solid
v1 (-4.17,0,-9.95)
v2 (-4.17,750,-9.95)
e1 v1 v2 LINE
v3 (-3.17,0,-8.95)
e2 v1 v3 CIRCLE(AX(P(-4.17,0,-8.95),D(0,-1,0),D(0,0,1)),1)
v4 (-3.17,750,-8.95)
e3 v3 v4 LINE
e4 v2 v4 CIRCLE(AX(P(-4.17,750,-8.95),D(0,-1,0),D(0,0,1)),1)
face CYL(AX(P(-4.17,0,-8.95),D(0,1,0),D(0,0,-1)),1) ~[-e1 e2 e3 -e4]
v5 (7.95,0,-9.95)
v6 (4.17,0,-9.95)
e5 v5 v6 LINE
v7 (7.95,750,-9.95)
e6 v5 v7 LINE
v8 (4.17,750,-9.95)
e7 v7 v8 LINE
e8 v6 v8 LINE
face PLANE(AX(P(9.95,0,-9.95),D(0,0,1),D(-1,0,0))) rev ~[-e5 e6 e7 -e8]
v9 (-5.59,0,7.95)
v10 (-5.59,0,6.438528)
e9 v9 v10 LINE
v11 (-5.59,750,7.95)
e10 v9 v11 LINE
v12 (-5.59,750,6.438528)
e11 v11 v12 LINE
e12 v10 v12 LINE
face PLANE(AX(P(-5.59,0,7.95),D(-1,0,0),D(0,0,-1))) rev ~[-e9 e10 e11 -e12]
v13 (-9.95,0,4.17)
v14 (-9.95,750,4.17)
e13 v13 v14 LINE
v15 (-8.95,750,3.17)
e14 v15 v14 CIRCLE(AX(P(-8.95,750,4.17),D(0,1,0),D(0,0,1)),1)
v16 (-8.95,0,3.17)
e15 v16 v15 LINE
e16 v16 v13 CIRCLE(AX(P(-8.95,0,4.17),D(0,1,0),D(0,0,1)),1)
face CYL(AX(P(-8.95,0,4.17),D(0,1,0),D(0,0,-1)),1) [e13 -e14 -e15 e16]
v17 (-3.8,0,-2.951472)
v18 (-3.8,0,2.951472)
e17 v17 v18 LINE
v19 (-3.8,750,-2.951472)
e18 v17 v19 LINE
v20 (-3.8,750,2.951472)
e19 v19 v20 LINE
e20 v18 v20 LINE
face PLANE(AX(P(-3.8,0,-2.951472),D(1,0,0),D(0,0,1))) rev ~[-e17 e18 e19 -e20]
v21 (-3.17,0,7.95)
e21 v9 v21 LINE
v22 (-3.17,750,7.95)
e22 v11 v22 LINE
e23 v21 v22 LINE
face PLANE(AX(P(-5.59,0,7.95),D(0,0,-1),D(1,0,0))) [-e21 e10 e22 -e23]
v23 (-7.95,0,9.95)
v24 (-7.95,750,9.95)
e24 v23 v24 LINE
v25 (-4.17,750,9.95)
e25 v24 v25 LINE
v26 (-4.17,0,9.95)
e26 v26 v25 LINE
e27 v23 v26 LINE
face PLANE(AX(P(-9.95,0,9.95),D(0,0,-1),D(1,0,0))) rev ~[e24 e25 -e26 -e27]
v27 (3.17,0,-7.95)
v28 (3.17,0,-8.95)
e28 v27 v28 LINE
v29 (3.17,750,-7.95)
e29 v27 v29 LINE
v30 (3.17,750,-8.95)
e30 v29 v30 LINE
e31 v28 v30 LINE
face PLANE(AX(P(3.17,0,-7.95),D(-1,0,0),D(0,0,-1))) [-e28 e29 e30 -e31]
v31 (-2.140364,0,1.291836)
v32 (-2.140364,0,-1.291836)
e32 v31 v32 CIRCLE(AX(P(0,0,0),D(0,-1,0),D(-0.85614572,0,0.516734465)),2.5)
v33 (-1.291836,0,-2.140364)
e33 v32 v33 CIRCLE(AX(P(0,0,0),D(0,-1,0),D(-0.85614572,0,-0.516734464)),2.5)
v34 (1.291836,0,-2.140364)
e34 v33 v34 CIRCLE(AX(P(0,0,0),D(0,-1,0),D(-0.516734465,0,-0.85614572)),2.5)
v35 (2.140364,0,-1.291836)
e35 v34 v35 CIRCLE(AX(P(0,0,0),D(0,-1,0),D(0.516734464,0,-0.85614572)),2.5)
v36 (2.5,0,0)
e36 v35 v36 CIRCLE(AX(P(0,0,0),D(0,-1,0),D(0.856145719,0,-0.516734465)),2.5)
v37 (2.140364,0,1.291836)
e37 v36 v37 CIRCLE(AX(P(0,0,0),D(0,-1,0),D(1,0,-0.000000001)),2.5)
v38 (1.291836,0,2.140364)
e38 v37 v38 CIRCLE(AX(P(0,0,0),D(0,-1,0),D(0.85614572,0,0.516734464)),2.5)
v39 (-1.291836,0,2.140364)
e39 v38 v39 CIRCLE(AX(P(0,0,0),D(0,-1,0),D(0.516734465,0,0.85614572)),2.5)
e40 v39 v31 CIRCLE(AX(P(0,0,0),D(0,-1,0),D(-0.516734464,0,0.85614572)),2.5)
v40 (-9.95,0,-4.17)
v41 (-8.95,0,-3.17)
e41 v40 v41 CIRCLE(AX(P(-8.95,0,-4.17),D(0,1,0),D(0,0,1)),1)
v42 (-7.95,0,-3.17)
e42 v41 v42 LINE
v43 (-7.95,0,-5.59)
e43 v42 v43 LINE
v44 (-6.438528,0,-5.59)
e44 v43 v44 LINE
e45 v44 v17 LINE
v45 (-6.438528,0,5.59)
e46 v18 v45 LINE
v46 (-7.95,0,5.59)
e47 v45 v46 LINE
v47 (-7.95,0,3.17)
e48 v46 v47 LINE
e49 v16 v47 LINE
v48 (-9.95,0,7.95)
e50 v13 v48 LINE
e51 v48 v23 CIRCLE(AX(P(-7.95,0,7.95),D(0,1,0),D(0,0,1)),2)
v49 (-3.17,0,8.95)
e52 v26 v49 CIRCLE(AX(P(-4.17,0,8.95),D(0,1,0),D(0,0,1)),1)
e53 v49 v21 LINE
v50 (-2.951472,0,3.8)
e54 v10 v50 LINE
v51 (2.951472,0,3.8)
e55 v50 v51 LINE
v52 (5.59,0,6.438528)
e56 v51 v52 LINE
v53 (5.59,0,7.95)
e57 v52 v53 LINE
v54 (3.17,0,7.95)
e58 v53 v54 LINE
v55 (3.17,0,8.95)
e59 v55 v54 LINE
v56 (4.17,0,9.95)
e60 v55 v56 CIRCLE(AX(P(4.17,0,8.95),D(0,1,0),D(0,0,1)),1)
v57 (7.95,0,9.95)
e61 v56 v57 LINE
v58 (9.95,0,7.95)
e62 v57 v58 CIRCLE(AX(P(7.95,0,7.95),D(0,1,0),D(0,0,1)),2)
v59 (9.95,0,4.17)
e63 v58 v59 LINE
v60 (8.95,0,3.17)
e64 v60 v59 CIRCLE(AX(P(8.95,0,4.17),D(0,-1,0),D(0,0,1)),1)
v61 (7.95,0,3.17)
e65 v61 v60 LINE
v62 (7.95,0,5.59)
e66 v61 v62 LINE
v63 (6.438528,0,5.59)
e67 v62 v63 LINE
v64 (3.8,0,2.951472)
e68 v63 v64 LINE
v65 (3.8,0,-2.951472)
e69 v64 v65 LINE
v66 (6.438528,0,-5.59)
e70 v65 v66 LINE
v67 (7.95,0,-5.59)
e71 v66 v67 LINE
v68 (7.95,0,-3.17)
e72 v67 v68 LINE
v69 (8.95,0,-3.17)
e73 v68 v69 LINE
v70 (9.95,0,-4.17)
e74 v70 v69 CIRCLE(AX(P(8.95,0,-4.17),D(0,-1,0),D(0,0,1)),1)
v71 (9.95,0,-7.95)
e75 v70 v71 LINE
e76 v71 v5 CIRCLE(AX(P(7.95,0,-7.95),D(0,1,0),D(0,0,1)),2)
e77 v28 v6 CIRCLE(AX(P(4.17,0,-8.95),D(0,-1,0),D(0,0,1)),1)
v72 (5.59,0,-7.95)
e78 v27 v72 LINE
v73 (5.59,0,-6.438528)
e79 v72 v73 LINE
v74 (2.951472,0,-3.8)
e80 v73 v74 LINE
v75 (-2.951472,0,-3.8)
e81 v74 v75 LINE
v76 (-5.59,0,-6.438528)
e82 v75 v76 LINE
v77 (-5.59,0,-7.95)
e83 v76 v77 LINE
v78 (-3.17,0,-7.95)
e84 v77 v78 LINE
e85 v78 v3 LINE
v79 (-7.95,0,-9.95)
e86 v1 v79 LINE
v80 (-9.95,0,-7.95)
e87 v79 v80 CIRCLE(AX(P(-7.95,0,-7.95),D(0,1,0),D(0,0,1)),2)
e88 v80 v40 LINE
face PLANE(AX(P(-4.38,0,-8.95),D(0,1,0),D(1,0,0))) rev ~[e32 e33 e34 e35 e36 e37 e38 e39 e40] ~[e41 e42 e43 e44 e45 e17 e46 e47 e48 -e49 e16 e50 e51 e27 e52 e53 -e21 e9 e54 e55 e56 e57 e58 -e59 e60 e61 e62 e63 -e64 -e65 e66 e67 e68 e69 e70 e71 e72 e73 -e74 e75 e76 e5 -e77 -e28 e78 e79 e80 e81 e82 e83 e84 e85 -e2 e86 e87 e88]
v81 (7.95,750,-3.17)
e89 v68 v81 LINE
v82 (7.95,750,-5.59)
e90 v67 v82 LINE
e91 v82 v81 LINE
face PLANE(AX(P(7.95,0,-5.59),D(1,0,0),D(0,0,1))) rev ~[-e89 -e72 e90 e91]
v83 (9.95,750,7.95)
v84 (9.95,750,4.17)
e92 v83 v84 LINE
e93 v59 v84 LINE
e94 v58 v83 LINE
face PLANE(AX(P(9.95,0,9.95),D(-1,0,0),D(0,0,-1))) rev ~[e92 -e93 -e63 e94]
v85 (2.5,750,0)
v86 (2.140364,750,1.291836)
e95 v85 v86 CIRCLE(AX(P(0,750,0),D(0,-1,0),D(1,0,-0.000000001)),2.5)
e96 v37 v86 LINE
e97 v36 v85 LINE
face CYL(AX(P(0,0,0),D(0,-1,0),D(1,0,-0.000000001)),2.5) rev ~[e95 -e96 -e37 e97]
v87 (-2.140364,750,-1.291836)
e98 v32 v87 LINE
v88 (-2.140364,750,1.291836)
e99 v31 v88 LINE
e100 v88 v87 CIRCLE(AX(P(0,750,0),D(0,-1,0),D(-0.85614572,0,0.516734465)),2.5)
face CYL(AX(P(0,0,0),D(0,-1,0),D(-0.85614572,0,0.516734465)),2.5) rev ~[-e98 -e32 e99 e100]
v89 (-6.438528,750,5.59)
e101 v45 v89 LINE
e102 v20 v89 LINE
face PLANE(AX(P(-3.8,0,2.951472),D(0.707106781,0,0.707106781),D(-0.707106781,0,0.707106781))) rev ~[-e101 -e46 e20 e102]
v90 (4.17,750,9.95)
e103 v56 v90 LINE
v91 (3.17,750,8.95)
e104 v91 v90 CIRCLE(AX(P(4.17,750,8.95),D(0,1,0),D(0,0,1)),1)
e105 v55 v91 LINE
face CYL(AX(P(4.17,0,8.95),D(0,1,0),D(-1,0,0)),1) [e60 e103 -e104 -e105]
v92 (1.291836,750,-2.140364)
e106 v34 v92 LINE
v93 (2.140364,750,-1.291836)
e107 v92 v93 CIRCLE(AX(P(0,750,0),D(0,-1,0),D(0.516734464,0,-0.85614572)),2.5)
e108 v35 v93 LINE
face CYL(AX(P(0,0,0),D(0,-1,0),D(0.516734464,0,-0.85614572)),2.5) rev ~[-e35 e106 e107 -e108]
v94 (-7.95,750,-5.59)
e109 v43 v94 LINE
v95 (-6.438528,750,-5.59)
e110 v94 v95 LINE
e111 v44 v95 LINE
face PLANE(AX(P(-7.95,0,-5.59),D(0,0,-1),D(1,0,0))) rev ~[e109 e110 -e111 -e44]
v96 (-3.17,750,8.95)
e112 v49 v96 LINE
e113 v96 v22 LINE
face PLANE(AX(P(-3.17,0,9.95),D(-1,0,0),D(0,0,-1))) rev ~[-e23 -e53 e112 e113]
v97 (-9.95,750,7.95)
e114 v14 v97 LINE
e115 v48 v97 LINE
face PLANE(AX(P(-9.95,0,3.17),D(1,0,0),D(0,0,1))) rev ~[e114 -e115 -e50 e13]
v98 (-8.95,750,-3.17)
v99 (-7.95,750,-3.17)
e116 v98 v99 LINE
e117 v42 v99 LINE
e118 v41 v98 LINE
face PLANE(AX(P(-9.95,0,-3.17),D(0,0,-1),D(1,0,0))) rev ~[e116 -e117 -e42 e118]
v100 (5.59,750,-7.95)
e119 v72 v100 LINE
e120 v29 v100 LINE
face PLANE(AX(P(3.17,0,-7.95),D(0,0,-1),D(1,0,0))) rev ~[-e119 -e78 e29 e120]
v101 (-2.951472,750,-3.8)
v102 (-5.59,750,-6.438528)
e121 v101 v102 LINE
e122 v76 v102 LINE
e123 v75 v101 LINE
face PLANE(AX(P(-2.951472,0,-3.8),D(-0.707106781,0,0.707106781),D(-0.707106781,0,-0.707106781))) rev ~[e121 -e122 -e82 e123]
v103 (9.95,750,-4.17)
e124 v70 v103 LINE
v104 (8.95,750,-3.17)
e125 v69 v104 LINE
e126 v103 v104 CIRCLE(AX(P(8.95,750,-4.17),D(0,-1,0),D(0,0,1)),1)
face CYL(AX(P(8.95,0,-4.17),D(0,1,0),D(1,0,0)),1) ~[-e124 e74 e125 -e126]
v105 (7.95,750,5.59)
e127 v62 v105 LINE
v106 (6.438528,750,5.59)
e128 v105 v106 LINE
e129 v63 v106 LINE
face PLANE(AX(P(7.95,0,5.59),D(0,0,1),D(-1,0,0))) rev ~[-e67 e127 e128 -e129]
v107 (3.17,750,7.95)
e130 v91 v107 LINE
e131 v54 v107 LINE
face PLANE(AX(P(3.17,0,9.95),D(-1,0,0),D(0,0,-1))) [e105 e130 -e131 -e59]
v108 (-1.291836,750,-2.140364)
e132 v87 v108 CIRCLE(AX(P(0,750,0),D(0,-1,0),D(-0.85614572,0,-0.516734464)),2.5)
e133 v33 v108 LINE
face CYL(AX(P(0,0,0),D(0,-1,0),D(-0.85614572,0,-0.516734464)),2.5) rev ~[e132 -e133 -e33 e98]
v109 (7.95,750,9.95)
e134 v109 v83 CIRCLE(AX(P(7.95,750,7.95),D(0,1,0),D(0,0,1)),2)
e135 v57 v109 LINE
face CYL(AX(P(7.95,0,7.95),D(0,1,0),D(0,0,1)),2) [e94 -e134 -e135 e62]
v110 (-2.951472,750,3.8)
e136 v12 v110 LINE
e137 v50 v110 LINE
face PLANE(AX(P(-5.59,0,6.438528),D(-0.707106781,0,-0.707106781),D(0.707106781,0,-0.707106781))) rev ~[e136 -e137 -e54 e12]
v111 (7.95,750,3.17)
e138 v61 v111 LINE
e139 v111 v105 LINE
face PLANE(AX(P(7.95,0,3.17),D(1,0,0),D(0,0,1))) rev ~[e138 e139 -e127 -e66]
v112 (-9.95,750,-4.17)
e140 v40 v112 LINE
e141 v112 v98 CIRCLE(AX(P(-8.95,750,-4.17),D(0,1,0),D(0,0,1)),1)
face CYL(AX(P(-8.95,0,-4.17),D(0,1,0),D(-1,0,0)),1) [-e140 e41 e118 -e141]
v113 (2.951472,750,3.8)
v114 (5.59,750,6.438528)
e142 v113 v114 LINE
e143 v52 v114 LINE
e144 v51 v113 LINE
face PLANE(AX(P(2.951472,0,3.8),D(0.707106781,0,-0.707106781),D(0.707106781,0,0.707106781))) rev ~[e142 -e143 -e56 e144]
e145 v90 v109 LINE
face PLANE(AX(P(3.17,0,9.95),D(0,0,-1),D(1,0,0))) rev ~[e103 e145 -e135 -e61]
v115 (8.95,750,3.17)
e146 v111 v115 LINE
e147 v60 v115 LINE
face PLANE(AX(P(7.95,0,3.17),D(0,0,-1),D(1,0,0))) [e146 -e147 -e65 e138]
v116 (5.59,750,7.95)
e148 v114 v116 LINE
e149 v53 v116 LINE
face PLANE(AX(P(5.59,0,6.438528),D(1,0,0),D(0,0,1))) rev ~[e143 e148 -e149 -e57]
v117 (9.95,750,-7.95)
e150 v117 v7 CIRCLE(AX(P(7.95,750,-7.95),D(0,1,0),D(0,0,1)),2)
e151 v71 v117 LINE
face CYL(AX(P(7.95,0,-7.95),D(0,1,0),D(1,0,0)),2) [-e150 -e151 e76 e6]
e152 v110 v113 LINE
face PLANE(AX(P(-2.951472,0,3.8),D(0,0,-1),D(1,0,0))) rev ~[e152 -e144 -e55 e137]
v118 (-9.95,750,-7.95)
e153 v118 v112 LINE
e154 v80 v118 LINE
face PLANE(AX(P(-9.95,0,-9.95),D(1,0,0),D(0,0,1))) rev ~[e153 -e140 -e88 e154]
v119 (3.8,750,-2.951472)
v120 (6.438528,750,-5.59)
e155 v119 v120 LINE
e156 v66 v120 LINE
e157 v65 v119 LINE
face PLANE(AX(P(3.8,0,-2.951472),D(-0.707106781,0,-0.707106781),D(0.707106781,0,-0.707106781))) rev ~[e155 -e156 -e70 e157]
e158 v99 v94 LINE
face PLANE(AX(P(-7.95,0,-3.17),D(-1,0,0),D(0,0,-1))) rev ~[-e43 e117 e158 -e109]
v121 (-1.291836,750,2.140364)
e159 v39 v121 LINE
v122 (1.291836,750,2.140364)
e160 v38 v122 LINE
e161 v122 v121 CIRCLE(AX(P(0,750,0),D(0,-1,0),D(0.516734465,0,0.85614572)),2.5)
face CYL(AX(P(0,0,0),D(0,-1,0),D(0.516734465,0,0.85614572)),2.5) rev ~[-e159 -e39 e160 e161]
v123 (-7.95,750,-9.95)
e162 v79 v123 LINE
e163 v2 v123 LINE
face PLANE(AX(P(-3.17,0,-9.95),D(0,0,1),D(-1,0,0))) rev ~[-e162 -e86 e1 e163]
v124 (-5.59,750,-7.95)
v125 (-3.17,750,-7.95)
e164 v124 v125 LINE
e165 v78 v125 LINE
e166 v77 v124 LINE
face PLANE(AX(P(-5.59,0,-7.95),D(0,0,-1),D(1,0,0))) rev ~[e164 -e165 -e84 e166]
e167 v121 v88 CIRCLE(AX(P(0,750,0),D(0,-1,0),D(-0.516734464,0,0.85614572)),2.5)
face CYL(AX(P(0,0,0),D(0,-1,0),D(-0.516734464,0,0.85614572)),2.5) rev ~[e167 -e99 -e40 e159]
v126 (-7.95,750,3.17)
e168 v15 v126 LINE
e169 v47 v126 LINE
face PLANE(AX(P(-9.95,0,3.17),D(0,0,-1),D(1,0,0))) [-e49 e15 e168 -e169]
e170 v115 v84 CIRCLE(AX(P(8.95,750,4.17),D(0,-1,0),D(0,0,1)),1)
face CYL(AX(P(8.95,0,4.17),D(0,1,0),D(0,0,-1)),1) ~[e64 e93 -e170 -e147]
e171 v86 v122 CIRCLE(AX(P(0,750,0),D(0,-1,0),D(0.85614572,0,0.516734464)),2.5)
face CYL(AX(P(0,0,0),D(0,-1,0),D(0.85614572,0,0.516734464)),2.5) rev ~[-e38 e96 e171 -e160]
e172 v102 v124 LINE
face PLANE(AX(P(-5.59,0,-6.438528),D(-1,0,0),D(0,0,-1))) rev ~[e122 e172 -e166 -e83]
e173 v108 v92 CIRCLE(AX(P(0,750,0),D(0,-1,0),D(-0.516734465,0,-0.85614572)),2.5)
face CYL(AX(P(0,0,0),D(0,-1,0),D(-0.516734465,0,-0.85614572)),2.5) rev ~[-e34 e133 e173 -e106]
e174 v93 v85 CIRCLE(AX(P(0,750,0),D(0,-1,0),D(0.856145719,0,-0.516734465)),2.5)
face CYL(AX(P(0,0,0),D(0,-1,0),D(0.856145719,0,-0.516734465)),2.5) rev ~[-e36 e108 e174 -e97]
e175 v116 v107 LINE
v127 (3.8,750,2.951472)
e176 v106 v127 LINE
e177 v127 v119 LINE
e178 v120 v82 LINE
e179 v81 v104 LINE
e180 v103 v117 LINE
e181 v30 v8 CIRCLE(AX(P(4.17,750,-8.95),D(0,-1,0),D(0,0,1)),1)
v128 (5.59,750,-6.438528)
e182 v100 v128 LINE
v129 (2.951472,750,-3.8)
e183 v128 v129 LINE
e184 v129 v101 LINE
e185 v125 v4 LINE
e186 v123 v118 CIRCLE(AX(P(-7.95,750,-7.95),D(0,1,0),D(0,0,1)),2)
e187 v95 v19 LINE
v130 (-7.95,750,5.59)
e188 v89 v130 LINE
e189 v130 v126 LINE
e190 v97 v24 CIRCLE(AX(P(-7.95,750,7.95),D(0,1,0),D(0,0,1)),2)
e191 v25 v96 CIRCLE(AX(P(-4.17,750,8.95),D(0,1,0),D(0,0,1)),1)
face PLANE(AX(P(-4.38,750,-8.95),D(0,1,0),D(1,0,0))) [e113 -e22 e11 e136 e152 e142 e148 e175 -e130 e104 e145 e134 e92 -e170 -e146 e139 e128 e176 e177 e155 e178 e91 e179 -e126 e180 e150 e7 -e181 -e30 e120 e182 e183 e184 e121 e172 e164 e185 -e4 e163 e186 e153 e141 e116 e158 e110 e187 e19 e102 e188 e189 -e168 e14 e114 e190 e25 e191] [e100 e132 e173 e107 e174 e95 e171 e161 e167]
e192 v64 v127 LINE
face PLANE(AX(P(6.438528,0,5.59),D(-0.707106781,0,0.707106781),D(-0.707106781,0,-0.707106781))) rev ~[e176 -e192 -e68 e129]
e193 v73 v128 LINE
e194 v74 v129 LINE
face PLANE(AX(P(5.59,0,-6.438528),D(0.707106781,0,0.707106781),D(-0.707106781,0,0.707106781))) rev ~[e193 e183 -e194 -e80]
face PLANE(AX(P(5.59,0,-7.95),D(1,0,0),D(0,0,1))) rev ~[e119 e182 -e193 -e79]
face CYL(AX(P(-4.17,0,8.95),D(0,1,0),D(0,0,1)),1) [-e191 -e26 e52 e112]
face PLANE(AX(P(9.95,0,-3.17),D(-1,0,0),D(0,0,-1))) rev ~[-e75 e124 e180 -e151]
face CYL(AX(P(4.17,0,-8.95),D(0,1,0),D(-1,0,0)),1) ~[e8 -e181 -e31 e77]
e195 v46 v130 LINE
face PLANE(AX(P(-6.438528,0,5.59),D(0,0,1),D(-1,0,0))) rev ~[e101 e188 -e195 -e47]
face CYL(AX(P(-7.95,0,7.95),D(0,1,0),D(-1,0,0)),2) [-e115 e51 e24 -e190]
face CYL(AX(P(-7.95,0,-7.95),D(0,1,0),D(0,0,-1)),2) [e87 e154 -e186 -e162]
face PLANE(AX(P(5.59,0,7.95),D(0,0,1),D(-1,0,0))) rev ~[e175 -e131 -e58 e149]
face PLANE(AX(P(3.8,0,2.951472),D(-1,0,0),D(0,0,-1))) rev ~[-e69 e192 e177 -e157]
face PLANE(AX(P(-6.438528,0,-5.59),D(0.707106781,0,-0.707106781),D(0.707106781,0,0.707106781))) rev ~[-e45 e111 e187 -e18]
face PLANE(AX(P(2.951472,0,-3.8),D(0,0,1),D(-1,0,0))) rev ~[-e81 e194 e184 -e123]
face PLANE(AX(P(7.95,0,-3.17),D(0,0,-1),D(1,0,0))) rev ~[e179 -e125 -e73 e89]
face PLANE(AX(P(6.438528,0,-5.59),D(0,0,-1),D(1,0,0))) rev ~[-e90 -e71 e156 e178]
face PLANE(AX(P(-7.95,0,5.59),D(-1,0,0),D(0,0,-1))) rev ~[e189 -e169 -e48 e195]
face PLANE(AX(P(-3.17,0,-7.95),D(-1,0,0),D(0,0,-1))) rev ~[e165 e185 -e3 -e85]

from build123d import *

# Parameters (mm, degrees)
SKETCH_1_W      = 2.42
SKETCH_1_H      = 2
SKETCH_1_W_2    = 2
SKETCH_1_H_2    = 2.42
EXTRUDE_1_DEPTH = 750
FILLET_1_R      = 2
FILLET_2_R      = 1


with BuildPart() as part:
    # 草图1 → 凸台-拉伸1 (new body)
    with BuildSketch(Plane(origin=(0, 0, 0), x_dir=(1, 0, 0), z_dir=(0, 1, 0))):
        with Locations((-4.38, 8.95)):
            Rectangle(SKETCH_1_W, SKETCH_1_H)
        Polygon((-7.101471863, 7.95), (-5.59, 7.95), (-5.59, 9.95), (-7.95, 9.95), (-7.95, 8.798528137), align=None)
        Polygon((-9.101471863, 9.95), (-7.95, 8.798528137), (-7.95, 9.95), align=None)
        Polygon((-9.95, 9.101471863), (-8.798528137, 7.95), (-7.95, 7.95), (-7.95, 8.798528137), (-9.101471863, 9.95), (-9.95, 9.95), align=None)
        Polygon((-9.95, 7.95), (-8.798528137, 7.95), (-9.95, 9.101471863), align=None)
        Polygon((-9.95, 5.59), (-7.95, 5.59), (-7.95, 7.101471863), (-8.798528137, 7.95), (-9.95, 7.95), align=None)
        Polygon((-7.95, 7.95), (-7.101471863, 7.95), (-7.95, 8.798528137), align=None)
        Polygon((-8.798528137, 7.95), (-7.95, 7.101471863), (-7.95, 7.95), align=None)
        with Locations((-8.95, 4.38)):
            Rectangle(SKETCH_1_W_2, SKETCH_1_H_2)
        Polygon((-7.101471863, 7.95), (-5.59, 6.438528137), (-5.59, 7.95), align=None)
        Polygon((-7.95, 7.101471863), (-6.438528137, 5.59), (-5.59, 5.59), (-5.59, 6.438528137), (-7.101471863, 7.95), (-7.95, 7.95), align=None)
        Polygon((-7.95, 5.59), (-6.438528137, 5.59), (-7.95, 7.101471863), align=None)
        Polygon((-6.438528137, 5.59), (-3.8, 2.951471863), (-3.8, 3.8), (-2.951471863, 3.8), (-5.59, 6.438528137), (-5.59, 5.59), align=None)
        with Locations((4.38, 8.95)):
            Rectangle(SKETCH_1_W, SKETCH_1_H)
        Polygon((7.101471863, 7.95), (7.95, 8.798528137), (7.95, 9.95), (5.59, 9.95), (5.59, 7.95), align=None)
        Polygon((7.95, 8.798528137), (9.101471863, 9.95), (7.95, 9.95), align=None)
        Polygon((8.798528137, 7.95), (9.95, 9.101471863), (9.95, 9.95), (9.101471863, 9.95), (7.95, 8.798528137), (7.95, 7.95), align=None)
        Polygon((8.798528137, 7.95), (9.95, 7.95), (9.95, 9.101471863), align=None)
        Polygon((7.95, 5.59), (9.95, 5.59), (9.95, 7.95), (8.798528137, 7.95), (7.95, 7.101471863), align=None)
        Polygon((7.101471863, 7.95), (7.95, 7.95), (7.95, 8.798528137), align=None)
        Polygon((7.95, 7.101471863), (8.798528137, 7.95), (7.95, 7.95), align=None)
        with Locations((8.95, 4.38)):
            Rectangle(SKETCH_1_W_2, SKETCH_1_H_2)
        Polygon((5.59, 5.59), (6.438528137, 5.59), (7.95, 7.101471863), (7.95, 7.95), (7.101471863, 7.95), (5.59, 6.438528137), align=None)
        Polygon((6.438528137, 5.59), (7.95, 5.59), (7.95, 7.101471863), align=None)
        Polygon((5.59, 7.95), (5.59, 6.438528137), (7.101471863, 7.95), align=None)
        Polygon((3.8, 3.8), (3.8, 2.951471863), (6.438528137, 5.59), (5.59, 5.59), (5.59, 6.438528137), (2.951471863, 3.8), align=None)
        with Locations((8.95, -4.38)):
            Rectangle(SKETCH_1_W_2, SKETCH_1_H_2)
        Polygon((8.798528137, -7.95), (9.95, -7.95), (9.95, -5.59), (7.95, -5.59), (7.95, -7.101471863), align=None)
        Polygon((8.798528137, -7.95), (9.95, -9.101471863), (9.95, -7.95), align=None)
        Polygon((9.101471863, -9.95), (9.95, -9.95), (9.95, -9.101471863), (8.798528137, -7.95), (7.95, -7.95), (7.95, -8.798528137), align=None)
        Polygon((7.95, -9.95), (9.101471863, -9.95), (7.95, -8.798528137), align=None)
        Polygon((7.95, -7.95), (8.798528137, -7.95), (7.95, -7.101471863), align=None)
        Polygon((7.101471863, -7.95), (7.95, -8.798528137), (7.95, -7.95), align=None)
        Polygon((5.59, -9.95), (7.95, -9.95), (7.95, -8.798528137), (7.101471863, -7.95), (5.59, -7.95), align=None)
        with Locations((4.38, -8.95)):
            Rectangle(SKETCH_1_W, SKETCH_1_H)
        Polygon((5.59, -7.95), (7.101471863, -7.95), (5.59, -6.438528137), align=None)
        Polygon((5.59, -6.438528137), (7.101471863, -7.95), (7.95, -7.95), (7.95, -7.101471863), (6.438528137, -5.59), (5.59, -5.59), align=None)
        Polygon((6.438528137, -5.59), (7.95, -7.101471863), (7.95, -5.59), align=None)
        with Locations((-8.95, -4.38)):
            Rectangle(SKETCH_1_W_2, SKETCH_1_H_2)
        Polygon((-8.798528137, -7.95), (-7.95, -7.101471863), (-7.95, -5.59), (-9.95, -5.59), (-9.95, -7.95), align=None)
        Polygon((-7.95, -7.101471863), (-6.438528137, -5.59), (-7.95, -5.59), align=None)
        Polygon((-7.101471863, -7.95), (-5.59, -6.438528137), (-5.59, -5.59), (-6.438528137, -5.59), (-7.95, -7.101471863), (-7.95, -7.95), align=None)
        Polygon((-7.101471863, -7.95), (-5.59, -7.95), (-5.59, -6.438528137), align=None)
        Polygon((-7.95, -9.95), (-5.59, -9.95), (-5.59, -7.95), (-7.101471863, -7.95), (-7.95, -8.798528137), align=None)
        with Locations((-4.38, -8.95)):
            Rectangle(SKETCH_1_W, SKETCH_1_H)
        Polygon((-7.95, -7.95), (-7.95, -8.798528137), (-7.101471863, -7.95), align=None)
        Polygon((-8.798528137, -7.95), (-7.95, -7.95), (-7.95, -7.101471863), align=None)
        Polygon((-9.95, -9.95), (-9.101471863, -9.95), (-7.95, -8.798528137), (-7.95, -7.95), (-8.798528137, -7.95), (-9.95, -9.101471863), align=None)
        Polygon((-9.95, -7.95), (-9.95, -9.101471863), (-8.798528137, -7.95), align=None)
        Polygon((-9.101471863, -9.95), (-7.95, -9.95), (-7.95, -8.798528137), align=None)
        Polygon((-5.59, -6.438528137), (-2.951471863, -3.8), (-3.8, -3.8), (-3.8, -2.951471863), (-6.438528137, -5.59), (-5.59, -5.59), align=None)
        Polygon((2.951471863, -3.8), (5.59, -6.438528137), (5.59, -5.59), (6.438528137, -5.59), (3.8, -2.951471863), (3.8, -3.8), align=None)
        with BuildLine():
            Line((2.140364299, -1.291836161), (3.8, -2.951471863))
            Line((3.8, -2.951471863), (3.8, 2.951471863))
            Line((3.8, 2.951471863), (2.140364299, 1.291836161))
            ThreePointArc((2.140364299, 1.291836161), (2.408413456, 0.670480892), (2.5, 0))
            ThreePointArc((2.5, 0), (2.408413456, -0.670480892), (2.140364299, -1.291836161))
        make_face()
        with BuildLine():
            Line((1.291836161, 2.140364299), (2.951471863, 3.8))
            Line((2.951471863, 3.8), (-2.951471863, 3.8))
            Line((-2.951471863, 3.8), (-1.291836161, 2.140364299))
            ThreePointArc((-1.291836161, 2.140364299), (0, 2.5), (1.291836161, 2.140364299))
        make_face()
        with BuildLine():
            Line((-3.8, 2.951471863), (-3.8, -2.951471863))
            Line((-3.8, -2.951471863), (-2.140364299, -1.291836161))
            ThreePointArc((-2.140364299, -1.291836161), (-2.5, 0), (-2.140364299, 1.291836161))
            Line((-2.140364299, 1.291836161), (-3.8, 2.951471863))
        make_face()
        with BuildLine():
            Line((-2.951471863, -3.8), (2.951471863, -3.8))
            Line((2.951471863, -3.8), (1.291836161, -2.140364299))
            ThreePointArc((1.291836161, -2.140364299), (0, -2.5), (-1.291836161, -2.140364299))
            Line((-1.291836161, -2.140364299), (-2.951471863, -3.8))
        make_face()
        with BuildLine():
            Line((-3.8, -3.8), (-2.951471863, -3.8))
            Line((-2.951471863, -3.8), (-1.291836161, -2.140364299))
            ThreePointArc((-1.291836161, -2.140364299), (-1.767766953, -1.767766953), (-2.140364299, -1.291836161))
            Line((-2.140364299, -1.291836161), (-3.8, -2.951471863))
            Line((-3.8, -2.951471863), (-3.8, -3.8))
        make_face()
        with BuildLine():
            Line((1.291836161, -2.140364299), (2.951471863, -3.8))
            Line((2.951471863, -3.8), (3.8, -3.8))
            Line((3.8, -3.8), (3.8, -2.951471863))
            Line((3.8, -2.951471863), (2.140364299, -1.291836161))
            ThreePointArc((2.140364299, -1.291836161), (1.767766953, -1.767766953), (1.291836161, -2.140364299))
        make_face()
        with BuildLine():
            Line((2.140364299, 1.291836161), (3.8, 2.951471863))
            Line((3.8, 2.951471863), (3.8, 3.8))
            Line((3.8, 3.8), (2.951471863, 3.8))
            Line((2.951471863, 3.8), (1.291836161, 2.140364299))
            ThreePointArc((1.291836161, 2.140364299), (1.767766953, 1.767766953), (2.140364299, 1.291836161))
        make_face()
        with BuildLine():
            Line((-3.8, 3.8), (-3.8, 2.951471863))
            Line((-3.8, 2.951471863), (-2.140364299, 1.291836161))
            ThreePointArc((-2.140364299, 1.291836161), (-1.767766953, 1.767766953), (-1.291836161, 2.140364299))
            Line((-1.291836161, 2.140364299), (-2.951471863, 3.8))
            Line((-2.951471863, 3.8), (-3.8, 3.8))
        make_face()
    extrude(amount=EXTRUDE_1_DEPTH)

    # 圆角1
    fillet_1_edges = [part.edges().sort_by_distance(p)[0] for p in [
        (-9.95, 375, 9.95),
        (-9.95, 375, -9.95),
        (9.95, 375, -9.95),
        (9.95, 375, 9.95),
    ]]
    fillet(fillet_1_edges, radius=FILLET_1_R)

    # 圆角2
    fillet_2_edges = [part.edges().sort_by_distance(p)[0] for p in [
        (3.17, 375, 9.95),
        (-3.17, 375, 9.95),
        (-9.95, 375, 3.17),
        (-9.95, 375, -3.17),
        (-3.17, 375, -9.95),
        (3.17, 375, -9.95),
        (9.95, 375, -3.17),
        (9.95, 375, 3.17),
    ]]
    fillet(fillet_2_edges, radius=FILLET_2_R)


solid = part.part
